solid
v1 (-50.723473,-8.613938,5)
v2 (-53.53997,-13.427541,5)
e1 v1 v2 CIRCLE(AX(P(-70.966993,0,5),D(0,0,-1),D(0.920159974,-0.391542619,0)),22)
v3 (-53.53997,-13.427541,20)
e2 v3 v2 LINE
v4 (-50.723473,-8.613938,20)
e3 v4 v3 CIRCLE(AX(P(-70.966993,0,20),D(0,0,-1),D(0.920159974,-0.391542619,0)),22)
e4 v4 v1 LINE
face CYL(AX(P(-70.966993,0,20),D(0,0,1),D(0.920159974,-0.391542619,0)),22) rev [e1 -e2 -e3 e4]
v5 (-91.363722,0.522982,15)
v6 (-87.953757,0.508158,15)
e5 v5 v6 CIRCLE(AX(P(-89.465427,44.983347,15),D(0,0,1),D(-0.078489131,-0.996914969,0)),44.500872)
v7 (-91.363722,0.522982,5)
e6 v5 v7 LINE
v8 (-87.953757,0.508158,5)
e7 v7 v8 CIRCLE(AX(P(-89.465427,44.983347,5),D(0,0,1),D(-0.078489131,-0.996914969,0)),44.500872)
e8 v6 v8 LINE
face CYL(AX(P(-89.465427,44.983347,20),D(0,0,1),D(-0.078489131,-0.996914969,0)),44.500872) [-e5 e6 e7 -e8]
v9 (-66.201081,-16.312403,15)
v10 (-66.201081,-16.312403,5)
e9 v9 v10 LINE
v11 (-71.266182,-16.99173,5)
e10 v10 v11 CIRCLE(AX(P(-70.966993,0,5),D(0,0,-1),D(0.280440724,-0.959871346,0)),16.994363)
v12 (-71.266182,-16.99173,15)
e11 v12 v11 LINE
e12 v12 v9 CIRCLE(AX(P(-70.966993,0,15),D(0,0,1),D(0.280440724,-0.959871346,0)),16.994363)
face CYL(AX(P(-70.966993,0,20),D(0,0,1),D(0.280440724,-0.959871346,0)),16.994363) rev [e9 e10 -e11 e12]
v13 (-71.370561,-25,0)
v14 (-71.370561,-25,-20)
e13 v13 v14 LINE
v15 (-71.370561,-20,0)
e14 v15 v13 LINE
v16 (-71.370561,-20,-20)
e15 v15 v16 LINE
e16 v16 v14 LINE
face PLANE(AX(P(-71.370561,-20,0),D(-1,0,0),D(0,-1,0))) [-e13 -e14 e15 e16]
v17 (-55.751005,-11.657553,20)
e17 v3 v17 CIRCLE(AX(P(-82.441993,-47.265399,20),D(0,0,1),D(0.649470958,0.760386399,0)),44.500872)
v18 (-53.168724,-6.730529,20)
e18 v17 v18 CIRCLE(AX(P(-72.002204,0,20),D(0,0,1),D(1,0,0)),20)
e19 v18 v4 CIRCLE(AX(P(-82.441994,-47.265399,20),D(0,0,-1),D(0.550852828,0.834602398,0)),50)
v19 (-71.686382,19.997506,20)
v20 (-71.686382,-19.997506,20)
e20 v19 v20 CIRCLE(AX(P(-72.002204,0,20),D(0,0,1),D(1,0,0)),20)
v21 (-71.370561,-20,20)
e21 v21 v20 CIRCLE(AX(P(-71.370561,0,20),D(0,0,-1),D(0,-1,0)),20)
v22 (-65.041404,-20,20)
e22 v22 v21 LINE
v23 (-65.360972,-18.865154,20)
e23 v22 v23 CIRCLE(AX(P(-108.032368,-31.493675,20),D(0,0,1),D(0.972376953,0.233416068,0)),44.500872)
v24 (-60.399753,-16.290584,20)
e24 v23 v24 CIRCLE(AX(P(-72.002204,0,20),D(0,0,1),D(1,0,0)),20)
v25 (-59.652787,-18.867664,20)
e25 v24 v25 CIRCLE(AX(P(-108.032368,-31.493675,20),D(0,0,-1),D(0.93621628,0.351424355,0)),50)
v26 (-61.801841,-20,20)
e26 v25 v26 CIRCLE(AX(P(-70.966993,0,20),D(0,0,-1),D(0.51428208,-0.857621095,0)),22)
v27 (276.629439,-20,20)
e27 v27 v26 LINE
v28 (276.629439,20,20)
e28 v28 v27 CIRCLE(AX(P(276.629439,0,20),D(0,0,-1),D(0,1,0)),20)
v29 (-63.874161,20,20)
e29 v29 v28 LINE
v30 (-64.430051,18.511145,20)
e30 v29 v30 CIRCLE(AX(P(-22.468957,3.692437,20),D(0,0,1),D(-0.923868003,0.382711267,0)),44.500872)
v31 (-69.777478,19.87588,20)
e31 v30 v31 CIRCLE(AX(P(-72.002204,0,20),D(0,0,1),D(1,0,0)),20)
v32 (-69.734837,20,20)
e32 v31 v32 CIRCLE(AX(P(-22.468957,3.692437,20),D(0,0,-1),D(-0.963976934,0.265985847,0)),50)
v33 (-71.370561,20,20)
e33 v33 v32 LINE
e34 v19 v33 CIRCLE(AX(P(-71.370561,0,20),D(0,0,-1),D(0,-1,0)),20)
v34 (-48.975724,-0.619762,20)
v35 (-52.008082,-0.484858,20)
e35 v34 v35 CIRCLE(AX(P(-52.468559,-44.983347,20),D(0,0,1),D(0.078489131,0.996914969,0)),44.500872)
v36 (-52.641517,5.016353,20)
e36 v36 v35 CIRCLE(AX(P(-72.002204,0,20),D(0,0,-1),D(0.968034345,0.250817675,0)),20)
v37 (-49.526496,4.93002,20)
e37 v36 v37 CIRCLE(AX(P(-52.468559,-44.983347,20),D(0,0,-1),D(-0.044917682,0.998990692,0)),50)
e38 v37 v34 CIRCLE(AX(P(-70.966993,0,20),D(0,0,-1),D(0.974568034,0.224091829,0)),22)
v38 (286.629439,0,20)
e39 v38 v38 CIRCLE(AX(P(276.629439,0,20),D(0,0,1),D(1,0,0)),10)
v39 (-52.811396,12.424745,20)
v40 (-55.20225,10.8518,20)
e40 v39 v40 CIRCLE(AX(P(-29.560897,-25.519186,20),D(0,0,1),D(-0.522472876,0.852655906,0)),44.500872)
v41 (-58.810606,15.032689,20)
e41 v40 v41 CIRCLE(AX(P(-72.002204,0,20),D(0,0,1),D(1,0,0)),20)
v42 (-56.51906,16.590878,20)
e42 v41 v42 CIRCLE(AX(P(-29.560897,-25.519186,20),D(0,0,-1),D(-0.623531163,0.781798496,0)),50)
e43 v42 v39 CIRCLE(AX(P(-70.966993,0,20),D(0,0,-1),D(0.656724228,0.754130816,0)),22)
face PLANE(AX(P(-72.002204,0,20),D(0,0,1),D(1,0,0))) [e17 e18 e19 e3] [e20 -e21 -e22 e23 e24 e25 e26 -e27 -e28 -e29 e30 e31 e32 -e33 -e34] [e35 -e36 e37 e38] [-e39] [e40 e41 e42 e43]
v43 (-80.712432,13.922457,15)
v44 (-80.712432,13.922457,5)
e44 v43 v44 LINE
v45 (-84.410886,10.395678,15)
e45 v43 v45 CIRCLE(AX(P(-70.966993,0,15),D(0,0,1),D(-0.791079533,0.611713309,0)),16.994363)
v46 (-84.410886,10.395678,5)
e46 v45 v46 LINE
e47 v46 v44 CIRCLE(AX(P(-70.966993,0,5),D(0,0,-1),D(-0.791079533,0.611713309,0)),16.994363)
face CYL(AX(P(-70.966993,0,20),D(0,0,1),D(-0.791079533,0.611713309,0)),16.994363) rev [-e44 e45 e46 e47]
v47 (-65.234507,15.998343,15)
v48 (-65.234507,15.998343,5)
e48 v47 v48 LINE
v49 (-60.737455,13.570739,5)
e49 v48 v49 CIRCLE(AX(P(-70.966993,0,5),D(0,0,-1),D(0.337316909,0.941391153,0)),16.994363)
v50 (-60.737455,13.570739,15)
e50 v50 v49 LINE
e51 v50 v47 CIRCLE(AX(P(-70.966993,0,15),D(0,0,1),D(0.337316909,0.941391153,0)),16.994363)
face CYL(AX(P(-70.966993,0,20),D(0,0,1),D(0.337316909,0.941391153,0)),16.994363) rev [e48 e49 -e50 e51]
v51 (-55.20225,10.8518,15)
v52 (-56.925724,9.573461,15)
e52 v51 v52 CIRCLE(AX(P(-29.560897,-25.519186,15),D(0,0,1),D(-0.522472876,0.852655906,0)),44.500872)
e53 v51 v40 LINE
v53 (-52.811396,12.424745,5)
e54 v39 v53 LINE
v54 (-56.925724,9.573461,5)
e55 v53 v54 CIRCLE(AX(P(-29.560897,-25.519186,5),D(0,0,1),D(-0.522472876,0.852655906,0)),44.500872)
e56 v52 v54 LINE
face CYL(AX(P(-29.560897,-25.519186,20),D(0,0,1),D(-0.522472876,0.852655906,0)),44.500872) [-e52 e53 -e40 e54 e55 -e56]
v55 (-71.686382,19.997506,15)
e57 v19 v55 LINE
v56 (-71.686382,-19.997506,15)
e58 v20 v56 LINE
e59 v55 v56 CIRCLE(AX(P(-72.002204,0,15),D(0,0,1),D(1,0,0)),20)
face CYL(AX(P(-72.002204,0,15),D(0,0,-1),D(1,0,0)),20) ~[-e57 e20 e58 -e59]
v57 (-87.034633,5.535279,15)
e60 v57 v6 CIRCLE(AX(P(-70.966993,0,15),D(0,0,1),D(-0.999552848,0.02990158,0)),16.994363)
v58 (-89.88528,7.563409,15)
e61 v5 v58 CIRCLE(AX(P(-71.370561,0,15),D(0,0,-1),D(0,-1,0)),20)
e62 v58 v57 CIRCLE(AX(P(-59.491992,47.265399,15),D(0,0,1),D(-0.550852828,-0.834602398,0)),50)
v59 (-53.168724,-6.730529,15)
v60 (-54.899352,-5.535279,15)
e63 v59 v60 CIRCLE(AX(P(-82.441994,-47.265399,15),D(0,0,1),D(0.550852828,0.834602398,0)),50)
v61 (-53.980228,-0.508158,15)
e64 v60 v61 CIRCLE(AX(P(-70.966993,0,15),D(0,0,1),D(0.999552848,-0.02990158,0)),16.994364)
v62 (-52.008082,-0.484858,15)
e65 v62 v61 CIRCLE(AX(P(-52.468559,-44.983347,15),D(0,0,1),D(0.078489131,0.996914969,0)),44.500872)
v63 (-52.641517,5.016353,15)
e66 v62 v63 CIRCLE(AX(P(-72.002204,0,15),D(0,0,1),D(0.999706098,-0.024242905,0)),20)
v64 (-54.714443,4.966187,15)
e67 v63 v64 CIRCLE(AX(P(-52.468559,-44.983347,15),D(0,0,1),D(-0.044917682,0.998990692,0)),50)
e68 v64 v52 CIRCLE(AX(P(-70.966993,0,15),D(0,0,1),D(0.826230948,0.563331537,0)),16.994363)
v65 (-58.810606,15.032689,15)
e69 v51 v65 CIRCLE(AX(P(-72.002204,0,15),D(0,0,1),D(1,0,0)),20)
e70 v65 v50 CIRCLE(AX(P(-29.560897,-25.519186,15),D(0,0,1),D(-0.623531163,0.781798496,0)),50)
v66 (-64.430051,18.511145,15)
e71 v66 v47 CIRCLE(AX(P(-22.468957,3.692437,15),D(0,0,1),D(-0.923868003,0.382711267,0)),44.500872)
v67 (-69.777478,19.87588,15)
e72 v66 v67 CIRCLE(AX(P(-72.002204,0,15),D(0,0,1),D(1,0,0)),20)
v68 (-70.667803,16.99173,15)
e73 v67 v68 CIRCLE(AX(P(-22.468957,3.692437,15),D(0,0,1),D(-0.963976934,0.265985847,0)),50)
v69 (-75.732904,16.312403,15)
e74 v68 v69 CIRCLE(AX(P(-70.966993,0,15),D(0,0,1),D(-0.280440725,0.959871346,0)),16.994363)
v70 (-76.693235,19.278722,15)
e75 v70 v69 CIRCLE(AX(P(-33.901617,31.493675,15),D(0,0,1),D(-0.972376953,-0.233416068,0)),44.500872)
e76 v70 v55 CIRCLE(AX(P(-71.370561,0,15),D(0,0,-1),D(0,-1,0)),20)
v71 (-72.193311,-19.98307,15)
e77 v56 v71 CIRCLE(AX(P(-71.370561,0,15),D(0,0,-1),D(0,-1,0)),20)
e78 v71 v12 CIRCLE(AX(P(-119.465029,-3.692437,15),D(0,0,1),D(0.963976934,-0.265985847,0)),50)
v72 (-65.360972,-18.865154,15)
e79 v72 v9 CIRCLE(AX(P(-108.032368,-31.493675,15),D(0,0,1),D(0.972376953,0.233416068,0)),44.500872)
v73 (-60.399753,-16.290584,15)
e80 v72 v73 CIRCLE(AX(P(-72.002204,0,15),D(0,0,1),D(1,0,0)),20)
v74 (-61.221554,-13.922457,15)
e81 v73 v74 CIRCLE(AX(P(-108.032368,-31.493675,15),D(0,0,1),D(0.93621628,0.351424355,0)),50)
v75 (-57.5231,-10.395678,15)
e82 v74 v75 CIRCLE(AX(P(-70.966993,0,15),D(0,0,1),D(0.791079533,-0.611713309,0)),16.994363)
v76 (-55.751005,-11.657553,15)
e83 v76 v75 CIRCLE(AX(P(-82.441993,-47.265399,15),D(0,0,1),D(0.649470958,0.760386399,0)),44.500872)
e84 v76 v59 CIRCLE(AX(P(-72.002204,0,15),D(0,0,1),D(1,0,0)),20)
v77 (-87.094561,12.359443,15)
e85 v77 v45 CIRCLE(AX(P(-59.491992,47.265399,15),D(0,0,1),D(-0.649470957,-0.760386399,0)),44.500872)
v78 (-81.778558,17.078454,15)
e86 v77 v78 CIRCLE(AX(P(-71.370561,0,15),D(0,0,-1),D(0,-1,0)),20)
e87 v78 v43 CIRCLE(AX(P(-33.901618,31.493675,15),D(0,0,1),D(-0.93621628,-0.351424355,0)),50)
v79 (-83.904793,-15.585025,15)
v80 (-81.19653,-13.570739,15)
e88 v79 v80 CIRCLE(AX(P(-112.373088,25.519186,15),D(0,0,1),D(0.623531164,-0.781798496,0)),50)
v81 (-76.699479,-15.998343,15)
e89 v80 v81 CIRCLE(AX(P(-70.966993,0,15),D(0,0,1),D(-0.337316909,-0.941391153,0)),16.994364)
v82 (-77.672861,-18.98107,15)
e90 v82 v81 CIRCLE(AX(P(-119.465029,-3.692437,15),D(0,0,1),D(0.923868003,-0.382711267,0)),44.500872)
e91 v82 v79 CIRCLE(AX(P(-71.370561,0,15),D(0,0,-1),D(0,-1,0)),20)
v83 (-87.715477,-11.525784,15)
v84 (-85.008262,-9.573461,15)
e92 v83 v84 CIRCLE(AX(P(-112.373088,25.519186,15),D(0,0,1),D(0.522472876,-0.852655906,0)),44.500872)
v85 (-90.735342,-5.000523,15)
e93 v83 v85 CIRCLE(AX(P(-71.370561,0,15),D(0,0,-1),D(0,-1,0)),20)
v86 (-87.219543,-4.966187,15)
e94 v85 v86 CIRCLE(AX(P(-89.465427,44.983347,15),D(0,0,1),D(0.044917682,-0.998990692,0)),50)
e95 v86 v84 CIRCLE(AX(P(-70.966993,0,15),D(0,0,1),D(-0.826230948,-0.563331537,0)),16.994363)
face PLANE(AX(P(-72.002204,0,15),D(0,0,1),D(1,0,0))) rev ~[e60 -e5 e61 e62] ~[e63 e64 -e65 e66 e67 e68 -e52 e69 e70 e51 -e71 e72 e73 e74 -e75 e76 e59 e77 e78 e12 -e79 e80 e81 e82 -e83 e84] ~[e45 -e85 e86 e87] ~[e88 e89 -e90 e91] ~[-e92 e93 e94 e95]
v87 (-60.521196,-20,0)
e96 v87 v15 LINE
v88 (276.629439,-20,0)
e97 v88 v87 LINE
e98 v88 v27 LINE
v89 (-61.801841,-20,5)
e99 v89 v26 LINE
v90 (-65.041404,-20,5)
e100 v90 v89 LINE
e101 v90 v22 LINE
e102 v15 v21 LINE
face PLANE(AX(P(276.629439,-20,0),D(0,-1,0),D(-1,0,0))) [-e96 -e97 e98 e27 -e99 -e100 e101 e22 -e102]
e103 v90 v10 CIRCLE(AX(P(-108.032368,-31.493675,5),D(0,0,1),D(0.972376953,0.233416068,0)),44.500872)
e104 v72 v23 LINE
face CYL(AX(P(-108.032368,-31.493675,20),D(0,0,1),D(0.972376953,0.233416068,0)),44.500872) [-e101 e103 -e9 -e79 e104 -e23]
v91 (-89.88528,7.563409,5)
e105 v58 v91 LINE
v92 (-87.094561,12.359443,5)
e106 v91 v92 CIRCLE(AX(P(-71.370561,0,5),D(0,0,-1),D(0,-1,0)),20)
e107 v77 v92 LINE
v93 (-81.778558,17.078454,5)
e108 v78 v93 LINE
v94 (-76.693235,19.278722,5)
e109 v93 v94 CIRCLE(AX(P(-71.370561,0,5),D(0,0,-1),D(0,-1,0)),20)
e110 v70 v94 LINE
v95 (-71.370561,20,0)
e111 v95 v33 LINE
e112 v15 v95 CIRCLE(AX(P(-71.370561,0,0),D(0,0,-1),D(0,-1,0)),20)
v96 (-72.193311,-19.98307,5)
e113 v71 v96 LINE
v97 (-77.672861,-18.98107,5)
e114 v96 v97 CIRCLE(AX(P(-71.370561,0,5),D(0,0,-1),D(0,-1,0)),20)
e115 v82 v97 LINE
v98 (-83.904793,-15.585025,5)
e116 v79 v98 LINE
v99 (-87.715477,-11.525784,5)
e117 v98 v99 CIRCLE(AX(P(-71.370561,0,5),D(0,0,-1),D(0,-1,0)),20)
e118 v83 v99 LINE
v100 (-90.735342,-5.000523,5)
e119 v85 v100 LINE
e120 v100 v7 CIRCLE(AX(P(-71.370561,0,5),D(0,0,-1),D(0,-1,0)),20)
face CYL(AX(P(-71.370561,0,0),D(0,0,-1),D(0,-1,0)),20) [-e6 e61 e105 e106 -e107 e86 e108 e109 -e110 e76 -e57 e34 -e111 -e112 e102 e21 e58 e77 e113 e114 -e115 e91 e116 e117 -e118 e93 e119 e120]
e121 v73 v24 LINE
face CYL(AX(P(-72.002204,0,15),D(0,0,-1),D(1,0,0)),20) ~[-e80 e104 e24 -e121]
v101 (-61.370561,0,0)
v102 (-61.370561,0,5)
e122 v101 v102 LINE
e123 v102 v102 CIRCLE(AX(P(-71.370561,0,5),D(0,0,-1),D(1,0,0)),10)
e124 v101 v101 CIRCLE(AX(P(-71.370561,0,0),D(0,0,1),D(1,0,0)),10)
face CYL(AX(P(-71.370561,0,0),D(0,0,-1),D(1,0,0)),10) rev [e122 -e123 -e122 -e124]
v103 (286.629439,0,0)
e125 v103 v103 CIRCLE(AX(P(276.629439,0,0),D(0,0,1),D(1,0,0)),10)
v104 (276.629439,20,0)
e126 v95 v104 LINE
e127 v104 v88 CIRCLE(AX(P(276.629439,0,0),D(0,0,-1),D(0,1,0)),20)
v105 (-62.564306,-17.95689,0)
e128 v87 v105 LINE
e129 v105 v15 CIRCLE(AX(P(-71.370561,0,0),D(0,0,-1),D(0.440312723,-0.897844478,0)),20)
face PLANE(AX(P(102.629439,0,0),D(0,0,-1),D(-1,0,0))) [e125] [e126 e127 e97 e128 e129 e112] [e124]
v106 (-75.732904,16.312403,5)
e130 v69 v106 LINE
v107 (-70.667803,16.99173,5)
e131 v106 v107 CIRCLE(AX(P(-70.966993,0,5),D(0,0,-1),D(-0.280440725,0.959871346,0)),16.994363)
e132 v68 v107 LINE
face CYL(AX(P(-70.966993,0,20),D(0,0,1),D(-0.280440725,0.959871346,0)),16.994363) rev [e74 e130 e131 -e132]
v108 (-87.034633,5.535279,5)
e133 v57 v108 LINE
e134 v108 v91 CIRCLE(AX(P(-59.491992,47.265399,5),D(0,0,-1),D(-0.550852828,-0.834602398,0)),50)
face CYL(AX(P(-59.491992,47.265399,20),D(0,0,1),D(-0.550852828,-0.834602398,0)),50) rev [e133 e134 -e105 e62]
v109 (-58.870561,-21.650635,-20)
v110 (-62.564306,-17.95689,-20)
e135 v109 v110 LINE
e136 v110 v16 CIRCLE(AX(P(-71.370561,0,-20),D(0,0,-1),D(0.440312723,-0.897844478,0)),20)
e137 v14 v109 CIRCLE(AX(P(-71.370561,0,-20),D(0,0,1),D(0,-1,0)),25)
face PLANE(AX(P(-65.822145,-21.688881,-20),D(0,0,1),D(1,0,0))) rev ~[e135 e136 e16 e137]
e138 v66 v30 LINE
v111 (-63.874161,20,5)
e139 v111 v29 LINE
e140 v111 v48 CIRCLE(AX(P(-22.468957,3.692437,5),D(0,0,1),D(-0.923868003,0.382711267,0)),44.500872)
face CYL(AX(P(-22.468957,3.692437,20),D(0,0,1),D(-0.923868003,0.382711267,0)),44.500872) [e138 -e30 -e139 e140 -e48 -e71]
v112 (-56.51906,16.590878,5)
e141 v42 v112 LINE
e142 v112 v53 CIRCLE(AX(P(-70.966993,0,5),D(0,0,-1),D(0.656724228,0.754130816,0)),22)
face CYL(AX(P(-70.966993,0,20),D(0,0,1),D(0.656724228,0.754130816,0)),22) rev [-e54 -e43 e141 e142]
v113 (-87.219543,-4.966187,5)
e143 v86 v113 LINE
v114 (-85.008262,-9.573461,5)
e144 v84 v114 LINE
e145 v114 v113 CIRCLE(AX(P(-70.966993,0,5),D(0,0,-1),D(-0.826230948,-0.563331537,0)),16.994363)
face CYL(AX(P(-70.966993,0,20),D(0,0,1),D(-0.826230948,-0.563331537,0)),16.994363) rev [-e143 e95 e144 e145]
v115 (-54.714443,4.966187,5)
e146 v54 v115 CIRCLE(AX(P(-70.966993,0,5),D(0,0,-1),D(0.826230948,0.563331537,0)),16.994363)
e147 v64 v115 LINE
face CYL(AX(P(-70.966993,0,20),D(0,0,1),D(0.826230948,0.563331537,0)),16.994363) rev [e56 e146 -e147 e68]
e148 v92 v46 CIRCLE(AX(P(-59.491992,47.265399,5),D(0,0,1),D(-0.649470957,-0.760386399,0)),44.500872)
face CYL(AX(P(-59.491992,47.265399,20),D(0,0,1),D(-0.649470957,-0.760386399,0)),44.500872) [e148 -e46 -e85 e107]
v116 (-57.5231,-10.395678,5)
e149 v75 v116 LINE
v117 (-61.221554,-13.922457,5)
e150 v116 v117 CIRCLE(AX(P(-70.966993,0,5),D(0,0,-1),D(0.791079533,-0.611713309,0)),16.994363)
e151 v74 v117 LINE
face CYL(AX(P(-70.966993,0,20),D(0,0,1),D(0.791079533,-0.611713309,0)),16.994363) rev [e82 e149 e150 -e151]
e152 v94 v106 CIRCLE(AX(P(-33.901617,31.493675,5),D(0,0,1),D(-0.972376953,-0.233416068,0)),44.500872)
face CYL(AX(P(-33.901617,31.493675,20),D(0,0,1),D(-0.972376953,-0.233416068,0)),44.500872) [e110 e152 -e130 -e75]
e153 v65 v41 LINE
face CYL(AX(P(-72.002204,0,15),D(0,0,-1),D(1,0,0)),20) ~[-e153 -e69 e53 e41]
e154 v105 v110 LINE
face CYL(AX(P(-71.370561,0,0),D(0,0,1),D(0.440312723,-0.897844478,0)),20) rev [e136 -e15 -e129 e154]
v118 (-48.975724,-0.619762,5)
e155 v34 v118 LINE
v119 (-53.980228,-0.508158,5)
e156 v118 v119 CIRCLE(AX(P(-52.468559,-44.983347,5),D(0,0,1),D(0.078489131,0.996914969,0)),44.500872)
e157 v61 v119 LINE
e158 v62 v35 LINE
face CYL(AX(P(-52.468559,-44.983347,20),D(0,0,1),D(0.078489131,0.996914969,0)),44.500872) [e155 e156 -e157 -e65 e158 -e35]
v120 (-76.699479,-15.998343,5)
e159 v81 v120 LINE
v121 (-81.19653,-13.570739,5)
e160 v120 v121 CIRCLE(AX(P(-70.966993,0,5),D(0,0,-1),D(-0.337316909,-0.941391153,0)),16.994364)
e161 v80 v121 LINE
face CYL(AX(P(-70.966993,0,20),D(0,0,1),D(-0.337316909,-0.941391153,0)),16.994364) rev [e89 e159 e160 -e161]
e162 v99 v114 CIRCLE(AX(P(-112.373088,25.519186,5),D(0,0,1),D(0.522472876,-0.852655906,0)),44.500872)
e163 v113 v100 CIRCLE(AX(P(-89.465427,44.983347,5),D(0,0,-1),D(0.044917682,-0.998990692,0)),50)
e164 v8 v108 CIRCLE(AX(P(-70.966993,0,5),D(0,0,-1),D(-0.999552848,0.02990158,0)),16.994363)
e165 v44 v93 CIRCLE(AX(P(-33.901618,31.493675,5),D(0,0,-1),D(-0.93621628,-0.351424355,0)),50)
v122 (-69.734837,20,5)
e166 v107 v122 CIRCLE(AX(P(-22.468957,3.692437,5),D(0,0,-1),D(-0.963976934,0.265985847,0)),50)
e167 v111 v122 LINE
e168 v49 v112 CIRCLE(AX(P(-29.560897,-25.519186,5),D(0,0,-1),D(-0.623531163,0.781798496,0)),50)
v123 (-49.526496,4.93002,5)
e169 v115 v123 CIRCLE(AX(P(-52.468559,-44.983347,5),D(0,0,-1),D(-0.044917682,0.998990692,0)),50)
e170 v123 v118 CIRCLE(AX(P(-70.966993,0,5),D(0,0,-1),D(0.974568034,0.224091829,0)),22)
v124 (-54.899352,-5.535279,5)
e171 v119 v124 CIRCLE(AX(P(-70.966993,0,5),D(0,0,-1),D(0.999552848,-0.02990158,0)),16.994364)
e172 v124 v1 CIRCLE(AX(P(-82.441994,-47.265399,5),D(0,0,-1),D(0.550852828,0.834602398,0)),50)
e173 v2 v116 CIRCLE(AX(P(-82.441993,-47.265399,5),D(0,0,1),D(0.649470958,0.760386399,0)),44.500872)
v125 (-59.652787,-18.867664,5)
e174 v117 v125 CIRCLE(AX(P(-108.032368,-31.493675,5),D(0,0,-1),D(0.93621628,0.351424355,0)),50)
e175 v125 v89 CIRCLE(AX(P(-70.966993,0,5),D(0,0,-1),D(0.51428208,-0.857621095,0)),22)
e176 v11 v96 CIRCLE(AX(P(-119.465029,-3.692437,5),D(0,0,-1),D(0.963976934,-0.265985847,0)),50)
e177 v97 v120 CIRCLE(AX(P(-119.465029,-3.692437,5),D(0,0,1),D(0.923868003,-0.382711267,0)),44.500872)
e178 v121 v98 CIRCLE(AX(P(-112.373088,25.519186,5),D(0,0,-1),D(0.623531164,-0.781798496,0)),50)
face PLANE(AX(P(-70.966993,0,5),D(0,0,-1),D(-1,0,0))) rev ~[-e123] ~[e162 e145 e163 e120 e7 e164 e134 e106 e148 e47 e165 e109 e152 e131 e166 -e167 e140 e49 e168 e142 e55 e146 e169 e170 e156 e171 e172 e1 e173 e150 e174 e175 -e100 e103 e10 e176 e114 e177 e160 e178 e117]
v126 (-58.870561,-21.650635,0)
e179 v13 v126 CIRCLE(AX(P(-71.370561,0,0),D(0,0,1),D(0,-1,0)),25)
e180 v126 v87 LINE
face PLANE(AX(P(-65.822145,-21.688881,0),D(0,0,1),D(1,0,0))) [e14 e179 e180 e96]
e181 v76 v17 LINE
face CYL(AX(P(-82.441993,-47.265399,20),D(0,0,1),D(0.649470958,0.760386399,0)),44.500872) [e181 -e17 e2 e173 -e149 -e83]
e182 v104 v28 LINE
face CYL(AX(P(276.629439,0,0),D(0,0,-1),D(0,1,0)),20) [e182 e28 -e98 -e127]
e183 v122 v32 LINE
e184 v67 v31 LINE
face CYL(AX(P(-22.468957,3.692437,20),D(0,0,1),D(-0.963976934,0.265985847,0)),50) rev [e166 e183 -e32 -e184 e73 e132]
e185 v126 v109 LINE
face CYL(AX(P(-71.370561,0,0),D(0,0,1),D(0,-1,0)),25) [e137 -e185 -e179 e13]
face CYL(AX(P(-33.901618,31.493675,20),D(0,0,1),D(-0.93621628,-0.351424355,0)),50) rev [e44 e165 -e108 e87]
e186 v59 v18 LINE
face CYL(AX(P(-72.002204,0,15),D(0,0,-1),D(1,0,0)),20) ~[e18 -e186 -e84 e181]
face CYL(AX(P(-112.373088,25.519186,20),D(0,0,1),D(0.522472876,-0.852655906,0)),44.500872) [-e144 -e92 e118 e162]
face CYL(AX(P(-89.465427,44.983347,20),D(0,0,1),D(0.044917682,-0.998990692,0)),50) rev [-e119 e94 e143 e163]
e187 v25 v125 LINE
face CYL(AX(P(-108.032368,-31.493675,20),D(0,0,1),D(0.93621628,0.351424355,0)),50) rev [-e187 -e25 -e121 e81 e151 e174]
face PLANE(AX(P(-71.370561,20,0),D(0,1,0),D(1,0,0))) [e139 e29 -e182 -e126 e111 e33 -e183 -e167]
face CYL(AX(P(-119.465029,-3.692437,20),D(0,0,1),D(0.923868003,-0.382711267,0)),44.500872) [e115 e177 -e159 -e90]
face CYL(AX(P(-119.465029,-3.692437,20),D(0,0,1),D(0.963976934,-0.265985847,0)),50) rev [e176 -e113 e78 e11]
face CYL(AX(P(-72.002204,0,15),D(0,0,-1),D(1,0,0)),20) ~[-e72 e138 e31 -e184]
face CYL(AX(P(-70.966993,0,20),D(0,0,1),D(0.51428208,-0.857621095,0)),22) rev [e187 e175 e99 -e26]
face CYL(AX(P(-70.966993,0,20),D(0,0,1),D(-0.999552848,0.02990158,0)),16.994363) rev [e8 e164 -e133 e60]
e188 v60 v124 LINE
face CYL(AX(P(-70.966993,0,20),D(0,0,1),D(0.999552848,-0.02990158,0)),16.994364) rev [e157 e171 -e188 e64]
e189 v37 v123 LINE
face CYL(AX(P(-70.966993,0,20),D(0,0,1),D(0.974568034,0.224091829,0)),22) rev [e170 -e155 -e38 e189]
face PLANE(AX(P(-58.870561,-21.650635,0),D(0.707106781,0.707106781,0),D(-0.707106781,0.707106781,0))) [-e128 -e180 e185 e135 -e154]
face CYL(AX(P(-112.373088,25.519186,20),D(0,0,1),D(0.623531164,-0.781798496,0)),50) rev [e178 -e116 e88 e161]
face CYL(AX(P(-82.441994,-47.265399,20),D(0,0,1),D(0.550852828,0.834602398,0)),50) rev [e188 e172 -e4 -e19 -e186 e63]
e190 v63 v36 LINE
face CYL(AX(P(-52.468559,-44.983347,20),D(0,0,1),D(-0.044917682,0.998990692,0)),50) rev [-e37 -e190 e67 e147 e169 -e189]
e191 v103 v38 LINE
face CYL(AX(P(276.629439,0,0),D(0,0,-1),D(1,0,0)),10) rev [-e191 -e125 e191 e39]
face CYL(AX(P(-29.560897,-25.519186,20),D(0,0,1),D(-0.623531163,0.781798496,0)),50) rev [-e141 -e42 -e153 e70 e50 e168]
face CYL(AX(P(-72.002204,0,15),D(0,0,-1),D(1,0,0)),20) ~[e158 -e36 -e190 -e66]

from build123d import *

# Parameters (mm, degrees)
SKETCH1_R           = 10
BOSS_EXTRUDE1_DEPTH = 20
BOSS_EXTRUDE2_DEPTH = 20
CUT_EXTRUDE1_DEPTH  = 15
SKETCH5_R           = 20
BOSS_EXTRUDE3_DEPTH = 5


with BuildPart() as part:
    # Sketch1 → Boss-Extrude1 (new body)
    with BuildSketch(Plane.XY):
        with BuildLine():
            Line((-71.370560529, 20), (276.629439471, 20))
            ThreePointArc((276.629439471, 20), (296.629439471, 0), (276.629439471, -20))
            Line((276.629439471, -20), (-71.370560529, -20))
            ThreePointArc((-71.370560529, -20), (-91.370560529, 0), (-71.370560529, 20))
        make_face()
        with Locations((-71.370560529, 0)):
            Circle(SKETCH1_R, mode=Mode.SUBTRACT)
        with Locations((276.629439471, 0)):
            Circle(SKETCH1_R, mode=Mode.SUBTRACT)
    extrude(amount=BOSS_EXTRUDE1_DEPTH)

    # Sketch2 → Boss-Extrude2 (add)
    with BuildSketch(Plane(origin=(0, 0, 0), x_dir=(-1, 0, 0), z_dir=(0, 0, -1))):
        with BuildLine():
            Line((71.370560529, -20), (71.370560529, -25))
            ThreePointArc((71.370560529, -25), (64.900084402, -24.148145657), (58.870560529, -21.650635095))
            Line((58.870560529, -21.650635095), (62.564306071, -17.956889553))
            ThreePointArc((62.564306071, -17.956889553), (66.850482602, -19.482527955), (71.370560529, -20))
        make_face()
    extrude(amount=BOSS_EXTRUDE2_DEPTH)

    # Sketch6 → Cut-Extrude1 (cut)
    with BuildSketch(Plane.XY.offset(20)):
        with BuildLine():
            ThreePointArc((-88.39401573, 13.427541495), (-86.445115044, 11.855559488), (-84.410885886, 10.395678313))
            ThreePointArc((-84.410885886, 10.395678313), (-82.694985814, 12.298884863), (-80.712431568, 13.922457124))
            ThreePointArc((-80.712431568, 13.922457124), (-81.560998495, 16.374699705), (-82.281198511, 18.867664093))
            ThreePointArc((-82.281198511, 18.867664093), (-79.798448631, 20.149575363), (-77.17323964, 21.106456352))
            ThreePointArc((-77.17323964, 21.106456352), (-76.520533705, 18.689161112), (-75.73290437, 16.312402533))
            ThreePointArc((-75.73290437, 16.312402533), (-73.22603531, 16.843548219), (-70.667803401, 16.991729622))
            ThreePointArc((-70.667803401, 16.991729622), (-69.912916442, 19.47441067), (-69.030242792, 21.914584175))
            ThreePointArc((-69.030242792, 21.914584175), (-66.268167407, 21.492348412), (-63.581888186, 20.723422265))
            ThreePointArc((-63.581888186, 20.723422265), (-64.474688485, 18.384138413), (-65.234506609, 15.998343424))
            ThreePointArc((-65.234506609, 15.998343424), (-62.894207335, 14.954548647), (-60.737455402, 13.570738932))
            ThreePointArc((-60.737455402, 13.570738932), (-58.667455717, 15.135558669), (-56.519059735, 16.59087795))
            ThreePointArc((-56.519059735, 16.59087795), (-54.532677763, 14.625774866), (-52.811395672, 12.424745236))
            ThreePointArc((-52.811395672, 12.424745236), (-54.908682835, 11.056999694), (-56.925723719, 9.57346089))
            ThreePointArc((-56.925723719, 9.57346089), (-55.645909011, 7.353419778), (-54.714442987, 4.966187222))
            ThreePointArc((-54.714442987, 4.966187222), (-52.120000099, 5.015437696), (-49.526496029, 4.930020252))
            ThreePointArc((-49.526496029, 4.930020252), (-49.074537869, 2.172652432), (-48.97572416, -0.619762172))
            ThreePointArc((-48.97572416, -0.619762172), (-51.476405776, -0.493537095), (-53.98022836, -0.508158314))
            ThreePointArc((-53.98022836, -0.508158314), (-54.249743937, -3.056465513), (-54.899352183, -5.535279212))
            ThreePointArc((-54.899352183, -5.535279212), (-52.771455094, -7.020410009), (-50.72347334, -8.613937617))
            ThreePointArc((-50.72347334, -8.613937617), (-51.978571647, -11.110349384), (-53.539969801, -13.427541495))
            ThreePointArc((-53.539969801, -13.427541495), (-55.488870486, -11.855559488), (-57.523099645, -10.395678313))
            ThreePointArc((-57.523099645, -10.395678313), (-59.238999716, -12.298884863), (-61.221553963, -13.922457124))
            ThreePointArc((-61.221553963, -13.922457124), (-60.372987036, -16.374699705), (-59.65278702, -18.867664093))
            ThreePointArc((-59.65278702, -18.867664093), (-62.1355369, -20.149575363), (-64.760745891, -21.106456352))
            ThreePointArc((-64.760745891, -21.106456352), (-65.413451825, -18.689161112), (-66.20108116, -16.312402533))
            ThreePointArc((-66.20108116, -16.312402533), (-68.707950221, -16.843548219), (-71.26618213, -16.991729622))
            ThreePointArc((-71.26618213, -16.991729622), (-72.021069089, -19.47441067), (-72.903742738, -21.914584175))
            ThreePointArc((-72.903742738, -21.914584175), (-75.665818123, -21.492348412), (-78.352097344, -20.723422265))
            ThreePointArc((-78.352097344, -20.723422265), (-77.459297045, -18.384138413), (-76.699478922, -15.998343424))
            ThreePointArc((-76.699478922, -15.998343424), (-79.039778195, -14.954548647), (-81.196530129, -13.570738932))
            ThreePointArc((-81.196530129, -13.570738932), (-83.266529813, -15.135558669), (-85.414925795, -16.59087795))
            ThreePointArc((-85.414925795, -16.59087795), (-87.401307767, -14.625774866), (-89.122589859, -12.424745236))
            ThreePointArc((-89.122589859, -12.424745236), (-87.025302696, -11.056999694), (-85.008261811, -9.57346089))
            ThreePointArc((-85.008261811, -9.57346089), (-86.28807652, -7.353419778), (-87.219542544, -4.966187222))
            ThreePointArc((-87.219542544, -4.966187222), (-89.813985431, -5.015437696), (-92.407489502, -4.930020252))
            ThreePointArc((-92.407489502, -4.930020252), (-92.859447662, -2.172652432), (-92.95826137, 0.619762172))
            ThreePointArc((-92.95826137, 0.619762172), (-90.457579755, 0.493537095), (-87.953757171, 0.508158314))
            ThreePointArc((-87.953757171, 0.508158314), (-87.684241594, 3.056465513), (-87.034633347, 5.535279212))
            ThreePointArc((-87.034633347, 5.535279212), (-89.162530436, 7.020410009), (-91.210512191, 8.613937617))
            ThreePointArc((-91.210512191, 8.613937617), (-89.955413884, 11.110349384), (-88.39401573, 13.427541495))
        make_face()
    extrude(amount=-CUT_EXTRUDE1_DEPTH, mode=Mode.SUBTRACT)

    # Sketch5 → Boss-Extrude3 (add)
    with BuildSketch(Plane.XY.offset(15)):
        with Locations((-72.002203934, 0)):
            Circle(SKETCH5_R)
    extrude(amount=BOSS_EXTRUDE3_DEPTH)


solid = part.part
